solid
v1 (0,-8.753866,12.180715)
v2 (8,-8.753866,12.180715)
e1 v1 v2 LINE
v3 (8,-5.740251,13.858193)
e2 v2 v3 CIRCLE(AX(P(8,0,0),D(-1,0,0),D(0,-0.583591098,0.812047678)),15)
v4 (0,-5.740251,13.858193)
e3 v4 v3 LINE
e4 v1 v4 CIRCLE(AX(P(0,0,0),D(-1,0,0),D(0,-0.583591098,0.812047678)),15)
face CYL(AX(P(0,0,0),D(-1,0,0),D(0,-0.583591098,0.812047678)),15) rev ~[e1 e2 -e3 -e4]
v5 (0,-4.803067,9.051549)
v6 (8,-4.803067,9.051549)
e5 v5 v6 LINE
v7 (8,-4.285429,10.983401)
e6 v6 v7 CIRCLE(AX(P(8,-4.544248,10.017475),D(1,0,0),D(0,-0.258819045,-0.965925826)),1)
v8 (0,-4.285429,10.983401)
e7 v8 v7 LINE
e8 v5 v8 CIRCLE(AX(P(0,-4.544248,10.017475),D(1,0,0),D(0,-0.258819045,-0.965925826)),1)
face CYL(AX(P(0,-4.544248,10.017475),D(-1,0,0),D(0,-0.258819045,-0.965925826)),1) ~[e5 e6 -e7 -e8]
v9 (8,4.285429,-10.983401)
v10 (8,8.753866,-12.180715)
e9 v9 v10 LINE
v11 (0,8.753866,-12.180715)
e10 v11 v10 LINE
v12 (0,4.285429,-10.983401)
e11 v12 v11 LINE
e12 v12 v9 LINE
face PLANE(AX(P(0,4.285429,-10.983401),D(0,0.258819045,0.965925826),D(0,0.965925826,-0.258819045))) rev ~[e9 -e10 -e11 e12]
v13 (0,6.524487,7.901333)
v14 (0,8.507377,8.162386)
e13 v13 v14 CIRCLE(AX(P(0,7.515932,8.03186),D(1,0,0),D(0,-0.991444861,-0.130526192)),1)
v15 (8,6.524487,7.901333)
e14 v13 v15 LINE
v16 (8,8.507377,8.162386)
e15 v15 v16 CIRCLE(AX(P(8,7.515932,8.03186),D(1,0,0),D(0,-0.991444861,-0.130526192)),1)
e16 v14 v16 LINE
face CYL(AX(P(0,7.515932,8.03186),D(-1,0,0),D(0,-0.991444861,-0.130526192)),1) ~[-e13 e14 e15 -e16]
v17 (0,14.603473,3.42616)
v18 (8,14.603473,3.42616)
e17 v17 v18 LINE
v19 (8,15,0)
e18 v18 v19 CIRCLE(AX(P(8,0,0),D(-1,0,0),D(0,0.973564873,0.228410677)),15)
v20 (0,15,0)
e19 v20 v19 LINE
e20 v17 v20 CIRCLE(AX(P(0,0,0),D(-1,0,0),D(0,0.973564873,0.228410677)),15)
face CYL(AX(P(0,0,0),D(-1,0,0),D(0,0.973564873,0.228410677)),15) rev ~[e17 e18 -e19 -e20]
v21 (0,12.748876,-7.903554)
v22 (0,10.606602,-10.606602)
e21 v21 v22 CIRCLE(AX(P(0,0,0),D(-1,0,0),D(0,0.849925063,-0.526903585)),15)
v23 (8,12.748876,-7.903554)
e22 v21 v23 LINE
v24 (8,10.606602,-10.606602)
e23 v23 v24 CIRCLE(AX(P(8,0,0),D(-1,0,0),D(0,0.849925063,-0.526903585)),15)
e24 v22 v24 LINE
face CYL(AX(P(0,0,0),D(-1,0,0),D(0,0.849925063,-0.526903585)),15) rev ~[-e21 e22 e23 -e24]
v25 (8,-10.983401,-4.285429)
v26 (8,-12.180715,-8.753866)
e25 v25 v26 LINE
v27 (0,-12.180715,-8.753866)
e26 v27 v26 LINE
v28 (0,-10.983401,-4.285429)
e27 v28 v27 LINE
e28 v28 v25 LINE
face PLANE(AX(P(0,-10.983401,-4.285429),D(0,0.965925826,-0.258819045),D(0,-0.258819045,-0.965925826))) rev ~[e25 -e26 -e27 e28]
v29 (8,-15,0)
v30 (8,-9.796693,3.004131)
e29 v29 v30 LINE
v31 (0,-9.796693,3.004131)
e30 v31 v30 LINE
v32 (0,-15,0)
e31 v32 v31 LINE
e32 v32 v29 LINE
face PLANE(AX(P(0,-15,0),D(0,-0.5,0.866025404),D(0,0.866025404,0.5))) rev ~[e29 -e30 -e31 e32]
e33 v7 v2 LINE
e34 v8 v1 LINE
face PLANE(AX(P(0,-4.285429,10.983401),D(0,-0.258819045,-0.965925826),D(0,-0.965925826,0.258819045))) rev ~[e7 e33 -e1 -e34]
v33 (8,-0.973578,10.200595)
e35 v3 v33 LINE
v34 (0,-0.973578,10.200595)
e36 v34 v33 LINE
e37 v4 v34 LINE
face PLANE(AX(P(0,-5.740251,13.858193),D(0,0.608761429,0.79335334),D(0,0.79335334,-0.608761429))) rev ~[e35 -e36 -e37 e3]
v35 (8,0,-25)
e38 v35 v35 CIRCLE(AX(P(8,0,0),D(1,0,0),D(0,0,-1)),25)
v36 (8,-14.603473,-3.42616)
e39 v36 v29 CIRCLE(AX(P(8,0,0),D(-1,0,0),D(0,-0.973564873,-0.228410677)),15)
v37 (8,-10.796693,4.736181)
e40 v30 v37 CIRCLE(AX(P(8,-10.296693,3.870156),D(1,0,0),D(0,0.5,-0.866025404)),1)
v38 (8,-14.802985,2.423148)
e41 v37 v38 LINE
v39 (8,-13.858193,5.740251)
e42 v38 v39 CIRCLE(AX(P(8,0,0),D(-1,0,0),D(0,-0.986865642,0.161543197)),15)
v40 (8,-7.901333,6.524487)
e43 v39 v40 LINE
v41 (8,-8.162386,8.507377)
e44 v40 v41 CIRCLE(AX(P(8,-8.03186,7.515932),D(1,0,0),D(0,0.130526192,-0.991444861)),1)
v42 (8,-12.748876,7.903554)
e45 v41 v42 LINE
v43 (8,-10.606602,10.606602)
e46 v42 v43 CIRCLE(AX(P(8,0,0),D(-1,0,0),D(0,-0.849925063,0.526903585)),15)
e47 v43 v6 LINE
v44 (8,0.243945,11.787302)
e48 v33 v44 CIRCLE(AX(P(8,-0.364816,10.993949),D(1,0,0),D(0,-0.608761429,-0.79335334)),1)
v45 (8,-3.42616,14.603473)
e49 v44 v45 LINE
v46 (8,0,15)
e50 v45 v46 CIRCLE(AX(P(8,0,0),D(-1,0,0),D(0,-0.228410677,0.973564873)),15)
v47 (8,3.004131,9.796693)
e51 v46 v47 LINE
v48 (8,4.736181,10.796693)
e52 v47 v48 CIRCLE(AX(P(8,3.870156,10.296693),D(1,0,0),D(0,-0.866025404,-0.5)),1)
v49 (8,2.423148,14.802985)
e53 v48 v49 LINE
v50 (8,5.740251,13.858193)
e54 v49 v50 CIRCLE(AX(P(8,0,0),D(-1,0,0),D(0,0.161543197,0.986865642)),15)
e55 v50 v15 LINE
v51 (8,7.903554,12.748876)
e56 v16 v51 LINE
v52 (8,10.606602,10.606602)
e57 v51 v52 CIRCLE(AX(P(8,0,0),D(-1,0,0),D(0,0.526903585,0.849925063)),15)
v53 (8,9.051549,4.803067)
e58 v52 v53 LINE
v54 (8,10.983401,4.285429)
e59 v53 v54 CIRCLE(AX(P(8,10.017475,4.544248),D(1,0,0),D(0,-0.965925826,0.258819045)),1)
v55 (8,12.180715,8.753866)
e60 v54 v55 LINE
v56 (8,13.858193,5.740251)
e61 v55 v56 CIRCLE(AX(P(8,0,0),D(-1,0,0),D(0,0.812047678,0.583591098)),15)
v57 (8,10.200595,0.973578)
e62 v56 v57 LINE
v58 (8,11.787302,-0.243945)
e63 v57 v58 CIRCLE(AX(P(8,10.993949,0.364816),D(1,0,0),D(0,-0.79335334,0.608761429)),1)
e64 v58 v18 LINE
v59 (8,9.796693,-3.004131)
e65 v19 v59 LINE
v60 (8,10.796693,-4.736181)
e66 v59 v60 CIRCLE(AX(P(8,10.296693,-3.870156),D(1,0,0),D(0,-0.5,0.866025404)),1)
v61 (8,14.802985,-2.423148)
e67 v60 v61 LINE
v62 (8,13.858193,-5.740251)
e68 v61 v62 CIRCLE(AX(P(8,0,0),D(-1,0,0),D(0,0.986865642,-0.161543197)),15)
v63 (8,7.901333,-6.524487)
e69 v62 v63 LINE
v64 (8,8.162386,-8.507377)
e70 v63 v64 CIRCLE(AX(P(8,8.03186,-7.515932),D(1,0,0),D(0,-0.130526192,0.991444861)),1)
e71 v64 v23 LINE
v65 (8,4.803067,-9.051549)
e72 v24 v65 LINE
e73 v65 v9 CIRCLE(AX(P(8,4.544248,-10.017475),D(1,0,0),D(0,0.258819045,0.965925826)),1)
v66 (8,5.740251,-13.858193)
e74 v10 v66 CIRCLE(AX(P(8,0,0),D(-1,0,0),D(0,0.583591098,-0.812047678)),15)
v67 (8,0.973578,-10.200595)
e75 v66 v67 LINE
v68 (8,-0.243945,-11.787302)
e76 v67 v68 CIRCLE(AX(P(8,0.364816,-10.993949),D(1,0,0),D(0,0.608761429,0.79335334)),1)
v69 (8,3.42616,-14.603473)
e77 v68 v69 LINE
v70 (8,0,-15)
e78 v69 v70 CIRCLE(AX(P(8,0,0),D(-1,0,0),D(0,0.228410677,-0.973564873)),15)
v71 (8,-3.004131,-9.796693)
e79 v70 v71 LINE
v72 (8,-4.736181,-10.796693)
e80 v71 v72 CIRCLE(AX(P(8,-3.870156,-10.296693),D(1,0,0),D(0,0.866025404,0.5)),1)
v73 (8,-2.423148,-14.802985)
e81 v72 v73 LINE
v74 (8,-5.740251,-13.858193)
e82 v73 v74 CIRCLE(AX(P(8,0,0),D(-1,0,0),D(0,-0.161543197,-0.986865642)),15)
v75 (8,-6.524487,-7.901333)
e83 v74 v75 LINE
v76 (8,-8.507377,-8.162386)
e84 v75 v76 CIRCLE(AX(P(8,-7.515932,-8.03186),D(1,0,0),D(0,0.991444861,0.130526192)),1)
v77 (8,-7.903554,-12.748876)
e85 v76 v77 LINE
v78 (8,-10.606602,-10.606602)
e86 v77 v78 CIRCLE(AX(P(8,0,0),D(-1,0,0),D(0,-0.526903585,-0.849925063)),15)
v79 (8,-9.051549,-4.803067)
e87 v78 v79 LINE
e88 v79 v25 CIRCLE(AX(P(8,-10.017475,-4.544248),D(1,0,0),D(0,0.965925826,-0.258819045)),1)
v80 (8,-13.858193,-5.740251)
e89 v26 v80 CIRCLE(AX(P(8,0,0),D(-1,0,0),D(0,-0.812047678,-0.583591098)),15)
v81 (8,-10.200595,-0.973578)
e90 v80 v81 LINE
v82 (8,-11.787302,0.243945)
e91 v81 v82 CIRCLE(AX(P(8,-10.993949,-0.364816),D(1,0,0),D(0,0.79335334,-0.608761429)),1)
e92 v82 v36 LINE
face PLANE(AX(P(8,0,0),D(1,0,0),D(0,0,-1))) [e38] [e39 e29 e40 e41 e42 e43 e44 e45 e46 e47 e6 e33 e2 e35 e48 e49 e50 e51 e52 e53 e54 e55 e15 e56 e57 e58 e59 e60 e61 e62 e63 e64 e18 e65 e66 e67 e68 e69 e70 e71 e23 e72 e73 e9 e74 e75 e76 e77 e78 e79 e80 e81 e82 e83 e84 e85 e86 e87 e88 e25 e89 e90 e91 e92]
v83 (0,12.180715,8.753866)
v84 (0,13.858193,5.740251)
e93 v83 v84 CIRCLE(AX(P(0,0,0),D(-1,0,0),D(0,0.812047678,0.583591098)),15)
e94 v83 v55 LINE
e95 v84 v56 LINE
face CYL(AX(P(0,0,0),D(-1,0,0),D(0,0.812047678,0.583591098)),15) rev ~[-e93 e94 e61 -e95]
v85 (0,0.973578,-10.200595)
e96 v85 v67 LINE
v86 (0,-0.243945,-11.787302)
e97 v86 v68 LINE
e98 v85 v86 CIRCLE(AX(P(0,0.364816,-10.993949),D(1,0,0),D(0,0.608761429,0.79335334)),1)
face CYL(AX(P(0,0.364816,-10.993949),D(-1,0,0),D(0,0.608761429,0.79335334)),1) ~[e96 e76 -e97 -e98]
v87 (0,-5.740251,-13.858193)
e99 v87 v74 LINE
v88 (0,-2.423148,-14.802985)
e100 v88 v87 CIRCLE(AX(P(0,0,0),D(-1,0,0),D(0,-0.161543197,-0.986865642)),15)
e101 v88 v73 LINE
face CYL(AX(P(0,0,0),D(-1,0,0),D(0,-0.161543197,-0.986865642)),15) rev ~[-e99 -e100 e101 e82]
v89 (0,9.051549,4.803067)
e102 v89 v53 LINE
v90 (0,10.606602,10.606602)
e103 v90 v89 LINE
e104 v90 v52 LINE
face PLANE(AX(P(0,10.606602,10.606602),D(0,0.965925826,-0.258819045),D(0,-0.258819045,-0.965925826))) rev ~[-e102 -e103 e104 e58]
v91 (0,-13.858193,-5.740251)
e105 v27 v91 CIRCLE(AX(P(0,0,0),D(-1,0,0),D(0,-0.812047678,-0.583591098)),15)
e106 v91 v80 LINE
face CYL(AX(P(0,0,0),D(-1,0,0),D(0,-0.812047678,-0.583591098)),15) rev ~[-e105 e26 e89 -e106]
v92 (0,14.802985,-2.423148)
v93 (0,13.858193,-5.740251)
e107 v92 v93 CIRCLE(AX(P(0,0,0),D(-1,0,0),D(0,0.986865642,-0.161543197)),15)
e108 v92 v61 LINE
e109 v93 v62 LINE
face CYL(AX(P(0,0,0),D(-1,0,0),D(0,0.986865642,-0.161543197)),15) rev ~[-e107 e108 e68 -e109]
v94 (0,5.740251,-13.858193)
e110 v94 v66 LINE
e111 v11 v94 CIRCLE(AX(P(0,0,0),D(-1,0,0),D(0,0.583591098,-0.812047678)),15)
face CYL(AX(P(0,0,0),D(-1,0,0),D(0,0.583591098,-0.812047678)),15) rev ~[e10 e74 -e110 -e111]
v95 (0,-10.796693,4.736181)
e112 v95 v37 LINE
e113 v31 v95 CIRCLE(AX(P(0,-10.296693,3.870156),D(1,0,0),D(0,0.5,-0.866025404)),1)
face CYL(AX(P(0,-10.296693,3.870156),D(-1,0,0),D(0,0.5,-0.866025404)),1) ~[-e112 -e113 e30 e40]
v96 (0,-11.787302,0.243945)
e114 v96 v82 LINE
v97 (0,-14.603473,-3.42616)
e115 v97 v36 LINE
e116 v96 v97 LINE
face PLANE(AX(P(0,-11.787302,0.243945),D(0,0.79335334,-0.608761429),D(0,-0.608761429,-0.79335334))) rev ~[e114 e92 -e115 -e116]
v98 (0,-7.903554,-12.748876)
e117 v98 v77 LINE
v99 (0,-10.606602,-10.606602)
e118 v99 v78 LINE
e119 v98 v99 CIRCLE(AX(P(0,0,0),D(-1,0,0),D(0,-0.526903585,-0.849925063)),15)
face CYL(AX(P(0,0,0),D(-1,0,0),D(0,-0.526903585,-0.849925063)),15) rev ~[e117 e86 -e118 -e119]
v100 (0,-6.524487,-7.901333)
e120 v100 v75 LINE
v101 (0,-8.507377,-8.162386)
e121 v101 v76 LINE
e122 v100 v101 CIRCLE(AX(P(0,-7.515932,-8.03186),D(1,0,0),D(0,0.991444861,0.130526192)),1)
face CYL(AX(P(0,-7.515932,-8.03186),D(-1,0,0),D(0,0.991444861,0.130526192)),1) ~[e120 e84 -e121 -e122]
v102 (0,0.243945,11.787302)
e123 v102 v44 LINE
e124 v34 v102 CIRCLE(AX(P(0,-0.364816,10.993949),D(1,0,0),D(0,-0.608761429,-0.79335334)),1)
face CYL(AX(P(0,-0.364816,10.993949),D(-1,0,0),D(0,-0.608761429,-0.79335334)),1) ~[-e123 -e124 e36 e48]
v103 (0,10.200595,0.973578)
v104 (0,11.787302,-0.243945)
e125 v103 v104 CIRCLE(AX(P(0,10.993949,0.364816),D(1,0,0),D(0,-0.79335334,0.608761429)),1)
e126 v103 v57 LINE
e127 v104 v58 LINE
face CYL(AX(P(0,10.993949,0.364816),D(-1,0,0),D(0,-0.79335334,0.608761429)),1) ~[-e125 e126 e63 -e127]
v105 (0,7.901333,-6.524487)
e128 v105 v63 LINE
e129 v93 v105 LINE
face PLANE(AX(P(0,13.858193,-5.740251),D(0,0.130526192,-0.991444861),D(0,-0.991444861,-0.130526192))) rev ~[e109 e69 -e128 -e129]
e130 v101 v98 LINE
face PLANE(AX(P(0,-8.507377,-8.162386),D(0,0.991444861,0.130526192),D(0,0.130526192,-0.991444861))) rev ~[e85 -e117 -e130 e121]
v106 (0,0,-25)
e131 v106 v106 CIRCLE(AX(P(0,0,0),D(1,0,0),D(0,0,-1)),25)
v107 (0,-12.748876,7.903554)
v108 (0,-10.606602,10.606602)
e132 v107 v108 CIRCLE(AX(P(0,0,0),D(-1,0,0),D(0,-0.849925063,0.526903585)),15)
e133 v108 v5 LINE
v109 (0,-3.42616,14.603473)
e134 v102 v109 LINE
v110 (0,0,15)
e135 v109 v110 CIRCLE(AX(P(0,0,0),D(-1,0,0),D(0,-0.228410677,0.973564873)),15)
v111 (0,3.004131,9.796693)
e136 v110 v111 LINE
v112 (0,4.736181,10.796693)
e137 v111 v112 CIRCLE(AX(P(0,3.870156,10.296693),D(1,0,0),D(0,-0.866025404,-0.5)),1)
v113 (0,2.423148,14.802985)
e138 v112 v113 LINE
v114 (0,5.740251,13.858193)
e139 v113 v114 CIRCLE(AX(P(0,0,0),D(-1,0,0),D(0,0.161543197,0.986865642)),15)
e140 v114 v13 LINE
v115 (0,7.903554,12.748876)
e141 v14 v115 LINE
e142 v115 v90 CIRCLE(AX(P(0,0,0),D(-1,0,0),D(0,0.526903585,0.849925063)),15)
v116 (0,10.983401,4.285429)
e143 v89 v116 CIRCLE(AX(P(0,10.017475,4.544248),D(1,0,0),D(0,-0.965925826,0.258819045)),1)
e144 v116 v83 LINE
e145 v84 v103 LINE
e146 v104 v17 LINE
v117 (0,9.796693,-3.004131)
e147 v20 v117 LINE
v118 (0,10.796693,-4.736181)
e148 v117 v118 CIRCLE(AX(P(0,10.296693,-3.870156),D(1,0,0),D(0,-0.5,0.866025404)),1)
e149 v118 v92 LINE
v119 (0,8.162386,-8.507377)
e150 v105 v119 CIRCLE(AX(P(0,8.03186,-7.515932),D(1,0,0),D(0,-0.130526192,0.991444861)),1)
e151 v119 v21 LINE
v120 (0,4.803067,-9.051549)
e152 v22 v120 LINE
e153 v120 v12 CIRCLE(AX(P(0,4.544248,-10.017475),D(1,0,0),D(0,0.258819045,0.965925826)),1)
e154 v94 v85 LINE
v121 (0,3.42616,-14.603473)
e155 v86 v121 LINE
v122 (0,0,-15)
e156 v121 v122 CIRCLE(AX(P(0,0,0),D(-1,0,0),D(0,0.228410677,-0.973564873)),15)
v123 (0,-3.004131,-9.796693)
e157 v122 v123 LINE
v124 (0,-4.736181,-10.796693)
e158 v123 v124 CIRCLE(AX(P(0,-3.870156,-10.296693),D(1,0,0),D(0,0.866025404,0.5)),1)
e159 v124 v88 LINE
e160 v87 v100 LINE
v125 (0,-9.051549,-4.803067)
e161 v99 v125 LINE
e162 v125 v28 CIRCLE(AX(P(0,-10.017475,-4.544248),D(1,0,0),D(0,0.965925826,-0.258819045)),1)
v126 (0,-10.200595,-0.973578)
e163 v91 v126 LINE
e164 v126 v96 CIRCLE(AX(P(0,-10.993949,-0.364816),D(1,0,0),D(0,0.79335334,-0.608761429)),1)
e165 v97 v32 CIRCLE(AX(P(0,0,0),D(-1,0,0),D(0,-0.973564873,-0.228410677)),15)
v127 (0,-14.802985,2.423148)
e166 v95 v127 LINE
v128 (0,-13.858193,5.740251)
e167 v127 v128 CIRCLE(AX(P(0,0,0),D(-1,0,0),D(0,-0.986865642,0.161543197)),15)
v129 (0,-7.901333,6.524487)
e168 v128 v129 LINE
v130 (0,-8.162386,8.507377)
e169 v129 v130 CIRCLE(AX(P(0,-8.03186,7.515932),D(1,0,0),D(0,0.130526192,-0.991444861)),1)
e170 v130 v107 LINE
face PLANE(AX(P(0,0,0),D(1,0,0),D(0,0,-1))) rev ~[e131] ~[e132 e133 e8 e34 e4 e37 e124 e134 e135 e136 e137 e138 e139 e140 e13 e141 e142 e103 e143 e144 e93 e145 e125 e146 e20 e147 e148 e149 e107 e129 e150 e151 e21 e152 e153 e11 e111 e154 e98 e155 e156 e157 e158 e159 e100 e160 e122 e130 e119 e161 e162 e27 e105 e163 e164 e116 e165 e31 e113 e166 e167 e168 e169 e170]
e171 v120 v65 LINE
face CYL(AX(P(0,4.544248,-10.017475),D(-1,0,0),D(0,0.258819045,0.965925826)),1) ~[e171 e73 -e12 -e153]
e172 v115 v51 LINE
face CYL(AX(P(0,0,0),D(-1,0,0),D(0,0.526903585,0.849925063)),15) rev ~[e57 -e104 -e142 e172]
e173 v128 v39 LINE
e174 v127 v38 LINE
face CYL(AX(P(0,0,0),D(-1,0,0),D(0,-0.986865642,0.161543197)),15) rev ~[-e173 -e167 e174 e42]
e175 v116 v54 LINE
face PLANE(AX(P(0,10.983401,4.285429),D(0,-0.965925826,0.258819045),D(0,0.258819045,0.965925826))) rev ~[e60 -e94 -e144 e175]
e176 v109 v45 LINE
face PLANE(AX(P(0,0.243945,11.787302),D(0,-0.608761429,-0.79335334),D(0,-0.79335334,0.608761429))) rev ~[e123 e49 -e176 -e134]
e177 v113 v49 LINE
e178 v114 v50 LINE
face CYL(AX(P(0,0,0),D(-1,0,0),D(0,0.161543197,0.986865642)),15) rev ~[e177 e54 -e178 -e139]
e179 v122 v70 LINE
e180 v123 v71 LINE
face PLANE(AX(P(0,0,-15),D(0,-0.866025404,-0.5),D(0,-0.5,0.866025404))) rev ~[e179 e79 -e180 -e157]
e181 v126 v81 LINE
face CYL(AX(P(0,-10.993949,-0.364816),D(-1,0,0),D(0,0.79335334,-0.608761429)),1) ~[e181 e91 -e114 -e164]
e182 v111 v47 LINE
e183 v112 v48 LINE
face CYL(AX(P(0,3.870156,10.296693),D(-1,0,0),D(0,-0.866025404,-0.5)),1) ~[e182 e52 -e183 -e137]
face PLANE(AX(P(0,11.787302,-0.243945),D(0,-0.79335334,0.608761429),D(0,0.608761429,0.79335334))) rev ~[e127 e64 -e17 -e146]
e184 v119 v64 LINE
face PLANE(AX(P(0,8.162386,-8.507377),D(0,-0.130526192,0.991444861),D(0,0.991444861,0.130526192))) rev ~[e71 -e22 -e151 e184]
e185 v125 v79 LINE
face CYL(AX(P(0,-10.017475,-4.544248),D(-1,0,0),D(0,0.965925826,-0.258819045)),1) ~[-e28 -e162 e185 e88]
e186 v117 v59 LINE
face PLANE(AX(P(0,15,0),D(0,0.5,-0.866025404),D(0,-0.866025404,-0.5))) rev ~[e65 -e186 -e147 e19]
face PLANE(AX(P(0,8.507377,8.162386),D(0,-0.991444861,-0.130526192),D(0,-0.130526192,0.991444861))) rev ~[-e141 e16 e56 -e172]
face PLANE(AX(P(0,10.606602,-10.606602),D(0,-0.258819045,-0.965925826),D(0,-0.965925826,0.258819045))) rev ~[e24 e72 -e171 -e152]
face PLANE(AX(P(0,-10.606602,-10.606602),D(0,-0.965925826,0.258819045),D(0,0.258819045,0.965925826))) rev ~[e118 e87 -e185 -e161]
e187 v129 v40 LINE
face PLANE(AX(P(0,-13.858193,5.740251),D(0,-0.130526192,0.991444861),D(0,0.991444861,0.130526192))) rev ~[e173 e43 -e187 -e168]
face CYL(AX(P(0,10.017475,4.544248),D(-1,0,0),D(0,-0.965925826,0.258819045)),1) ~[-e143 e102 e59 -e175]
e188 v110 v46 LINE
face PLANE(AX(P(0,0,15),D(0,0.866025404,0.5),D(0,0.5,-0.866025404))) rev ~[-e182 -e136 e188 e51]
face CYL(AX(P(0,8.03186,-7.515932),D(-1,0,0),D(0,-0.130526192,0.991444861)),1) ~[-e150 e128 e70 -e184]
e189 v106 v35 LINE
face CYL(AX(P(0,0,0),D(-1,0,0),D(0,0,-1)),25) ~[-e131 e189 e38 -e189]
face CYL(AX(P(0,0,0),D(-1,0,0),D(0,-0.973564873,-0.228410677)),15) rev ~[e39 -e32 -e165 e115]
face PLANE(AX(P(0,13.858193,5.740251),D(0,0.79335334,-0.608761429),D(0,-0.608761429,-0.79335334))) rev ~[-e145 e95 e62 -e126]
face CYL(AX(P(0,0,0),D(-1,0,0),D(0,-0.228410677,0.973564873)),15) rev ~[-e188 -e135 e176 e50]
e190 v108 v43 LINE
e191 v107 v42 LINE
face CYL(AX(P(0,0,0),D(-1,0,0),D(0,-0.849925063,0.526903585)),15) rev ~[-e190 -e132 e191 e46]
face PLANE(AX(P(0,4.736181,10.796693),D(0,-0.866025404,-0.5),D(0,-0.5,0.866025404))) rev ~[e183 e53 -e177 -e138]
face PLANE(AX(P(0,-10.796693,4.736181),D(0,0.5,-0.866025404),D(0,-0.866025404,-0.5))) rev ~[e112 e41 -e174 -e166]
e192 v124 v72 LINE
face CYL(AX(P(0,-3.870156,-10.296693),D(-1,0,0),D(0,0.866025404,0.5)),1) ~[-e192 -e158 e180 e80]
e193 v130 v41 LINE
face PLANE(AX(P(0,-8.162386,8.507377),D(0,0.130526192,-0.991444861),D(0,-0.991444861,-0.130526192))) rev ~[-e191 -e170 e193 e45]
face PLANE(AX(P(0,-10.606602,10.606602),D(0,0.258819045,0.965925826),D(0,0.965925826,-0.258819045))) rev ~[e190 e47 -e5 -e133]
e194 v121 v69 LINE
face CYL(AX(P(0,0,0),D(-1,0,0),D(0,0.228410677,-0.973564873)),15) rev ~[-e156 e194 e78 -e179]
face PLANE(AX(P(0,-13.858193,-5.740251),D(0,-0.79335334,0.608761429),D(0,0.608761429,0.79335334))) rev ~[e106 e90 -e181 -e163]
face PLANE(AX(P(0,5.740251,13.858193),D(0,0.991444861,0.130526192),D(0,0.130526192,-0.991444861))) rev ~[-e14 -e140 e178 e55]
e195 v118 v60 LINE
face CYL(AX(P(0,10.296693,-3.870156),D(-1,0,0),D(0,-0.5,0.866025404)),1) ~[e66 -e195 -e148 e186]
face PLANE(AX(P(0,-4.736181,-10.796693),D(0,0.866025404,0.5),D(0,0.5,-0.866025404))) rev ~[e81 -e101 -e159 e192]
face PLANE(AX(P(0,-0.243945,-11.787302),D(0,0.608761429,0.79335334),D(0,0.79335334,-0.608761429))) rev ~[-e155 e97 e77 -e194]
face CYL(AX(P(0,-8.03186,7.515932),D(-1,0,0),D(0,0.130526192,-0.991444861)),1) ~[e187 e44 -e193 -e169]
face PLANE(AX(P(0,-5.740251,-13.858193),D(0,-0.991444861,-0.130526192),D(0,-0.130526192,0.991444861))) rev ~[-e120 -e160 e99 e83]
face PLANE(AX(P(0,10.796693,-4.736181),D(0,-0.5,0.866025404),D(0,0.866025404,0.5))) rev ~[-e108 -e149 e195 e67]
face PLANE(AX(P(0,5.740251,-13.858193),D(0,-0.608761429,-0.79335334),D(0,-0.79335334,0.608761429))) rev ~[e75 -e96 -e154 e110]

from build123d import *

# Parameters (mm, degrees)
SKETCH1_R         = 25
MAGNET_RING_DEPTH = 8


with BuildPart() as part:
    # Sketch1 → Magnet ring (new body)
    with BuildSketch(Plane(origin=(0, 0, 0), x_dir=(0, 0, -1), z_dir=(1, 0, 0))):
        Circle(SKETCH1_R)
        with BuildLine():
            Line((0, 15), (3.004130517, 9.796693311))
            ThreePointArc((3.004130517, 9.796693311), (4.370155921, 9.430667907), (4.736181325, 10.796693311))
            Line((4.736181325, 10.796693311), (2.423147953, 14.802984631))
            ThreePointArc((2.423147953, 14.802984631), (4.10894517, 14.426245859), (5.740251485, 13.858192988))
            Line((5.740251485, 13.858192988), (6.52448692, 7.901333459))
            ThreePointArc((6.52448692, 7.901333459), (7.646457974, 7.04041479), (8.507376643, 8.162385843))
            Line((8.507376643, 8.162385843), (7.903553766, 12.748875945))
            ThreePointArc((7.903553766, 12.748875945), (9.316855624, 11.755688039), (10.606601718, 10.606601718))
            Line((10.606601718, 10.606601718), (9.051549334, 4.803067213))
            ThreePointArc((9.051549334, 4.803067213), (9.758656115, 3.578322342), (10.983400987, 4.285429123))
            Line((10.983400987, 4.285429123), (12.180715164, 8.753866465))
            ThreePointArc((12.180715164, 8.753866465), (13.106359267, 7.295433281), (13.858192988, 5.740251485))
            Line((13.858192988, 5.740251485), (10.200595414, 0.973577524))
            ThreePointArc((10.200595414, 0.973577524), (10.385187325, -0.428537245), (11.787302095, -0.243945334))
            Line((11.787302095, -0.243945334), (14.603473097, 3.42616017))
            ThreePointArc((14.603473097, 3.42616017), (14.900538521, 1.724514939), (15, 0))
            Line((15, 0), (9.796693311, -3.004130517))
            ThreePointArc((9.796693311, -3.004130517), (9.430667907, -4.370155921), (10.796693311, -4.736181325))
            Line((10.796693311, -4.736181325), (14.802984631, -2.423147953))
            ThreePointArc((14.802984631, -2.423147953), (14.426245859, -4.10894517), (13.858192988, -5.740251485))
            Line((13.858192988, -5.740251485), (7.901333459, -6.52448692))
            ThreePointArc((7.901333459, -6.52448692), (7.04041479, -7.646457974), (8.162385843, -8.507376643))
            Line((8.162385843, -8.507376643), (12.748875945, -7.903553766))
            ThreePointArc((12.748875945, -7.903553766), (11.755688039, -9.316855624), (10.606601718, -10.606601718))
            Line((10.606601718, -10.606601718), (4.803067213, -9.051549334))
            ThreePointArc((4.803067213, -9.051549334), (3.578322342, -9.758656115), (4.285429123, -10.983400987))
            Line((4.285429123, -10.983400987), (8.753866465, -12.180715164))
            ThreePointArc((8.753866465, -12.180715164), (7.295433281, -13.106359267), (5.740251485, -13.858192988))
            Line((5.740251485, -13.858192988), (0.973577524, -10.200595414))
            ThreePointArc((0.973577524, -10.200595414), (-0.428537245, -10.385187325), (-0.243945334, -11.787302095))
            Line((-0.243945334, -11.787302095), (3.42616017, -14.603473097))
            ThreePointArc((3.42616017, -14.603473097), (1.724514939, -14.900538521), (0, -15))
            Line((0, -15), (-3.004130517, -9.796693311))
            ThreePointArc((-3.004130517, -9.796693311), (-4.370155921, -9.430667907), (-4.736181325, -10.796693311))
            Line((-4.736181325, -10.796693311), (-2.423147953, -14.802984631))
            ThreePointArc((-2.423147953, -14.802984631), (-4.10894517, -14.426245859), (-5.740251485, -13.858192988))
            Line((-5.740251485, -13.858192988), (-6.52448692, -7.901333459))
            ThreePointArc((-6.52448692, -7.901333459), (-7.646457974, -7.04041479), (-8.507376643, -8.162385843))
            Line((-8.507376643, -8.162385843), (-7.903553766, -12.748875945))
            ThreePointArc((-7.903553766, -12.748875945), (-9.316855624, -11.755688039), (-10.606601718, -10.606601718))
            Line((-10.606601718, -10.606601718), (-9.051549334, -4.803067213))
            ThreePointArc((-9.051549334, -4.803067213), (-9.758656115, -3.578322342), (-10.983400987, -4.285429123))
            Line((-10.983400987, -4.285429123), (-12.180715164, -8.753866465))
            ThreePointArc((-12.180715164, -8.753866465), (-13.106359267, -7.295433281), (-13.858192988, -5.740251485))
            Line((-13.858192988, -5.740251485), (-10.200595414, -0.973577524))
            ThreePointArc((-10.200595414, -0.973577524), (-10.385187325, 0.428537245), (-11.787302095, 0.243945334))
            Line((-11.787302095, 0.243945334), (-14.603473097, -3.42616017))
            ThreePointArc((-14.603473097, -3.42616017), (-14.900538521, -1.724514939), (-15, 0))
            Line((-15, 0), (-9.796693311, 3.004130517))
            ThreePointArc((-9.796693311, 3.004130517), (-9.430667907, 4.370155921), (-10.796693311, 4.736181325))
            Line((-10.796693311, 4.736181325), (-14.802984631, 2.423147953))
            ThreePointArc((-14.802984631, 2.423147953), (-14.426245859, 4.10894517), (-13.858192988, 5.740251485))
            Line((-13.858192988, 5.740251485), (-7.901333459, 6.52448692))
            ThreePointArc((-7.901333459, 6.52448692), (-7.04041479, 7.646457974), (-8.162385843, 8.507376643))
            Line((-8.162385843, 8.507376643), (-12.748875945, 7.903553766))
            ThreePointArc((-12.748875945, 7.903553766), (-11.755688039, 9.316855624), (-10.606601718, 10.606601718))
            Line((-10.606601718, 10.606601718), (-4.803067213, 9.051549334))
            ThreePointArc((-4.803067213, 9.051549334), (-3.578322342, 9.758656115), (-4.285429123, 10.983400987))
            Line((-4.285429123, 10.983400987), (-8.753866465, 12.180715164))
            ThreePointArc((-8.753866465, 12.180715164), (-7.295433281, 13.106359267), (-5.740251485, 13.858192988))
            Line((-5.740251485, 13.858192988), (-0.973577524, 10.200595414))
            ThreePointArc((-0.973577524, 10.200595414), (0.428537245, 10.385187325), (0.243945334, 11.787302095))
            Line((0.243945334, 11.787302095), (-3.42616017, 14.603473097))
            ThreePointArc((-3.42616017, 14.603473097), (-1.724514939, 14.900538521), (0, 15))
        make_face(mode=Mode.SUBTRACT)
    extrude(amount=MAGNET_RING_DEPTH)


solid = part.part
